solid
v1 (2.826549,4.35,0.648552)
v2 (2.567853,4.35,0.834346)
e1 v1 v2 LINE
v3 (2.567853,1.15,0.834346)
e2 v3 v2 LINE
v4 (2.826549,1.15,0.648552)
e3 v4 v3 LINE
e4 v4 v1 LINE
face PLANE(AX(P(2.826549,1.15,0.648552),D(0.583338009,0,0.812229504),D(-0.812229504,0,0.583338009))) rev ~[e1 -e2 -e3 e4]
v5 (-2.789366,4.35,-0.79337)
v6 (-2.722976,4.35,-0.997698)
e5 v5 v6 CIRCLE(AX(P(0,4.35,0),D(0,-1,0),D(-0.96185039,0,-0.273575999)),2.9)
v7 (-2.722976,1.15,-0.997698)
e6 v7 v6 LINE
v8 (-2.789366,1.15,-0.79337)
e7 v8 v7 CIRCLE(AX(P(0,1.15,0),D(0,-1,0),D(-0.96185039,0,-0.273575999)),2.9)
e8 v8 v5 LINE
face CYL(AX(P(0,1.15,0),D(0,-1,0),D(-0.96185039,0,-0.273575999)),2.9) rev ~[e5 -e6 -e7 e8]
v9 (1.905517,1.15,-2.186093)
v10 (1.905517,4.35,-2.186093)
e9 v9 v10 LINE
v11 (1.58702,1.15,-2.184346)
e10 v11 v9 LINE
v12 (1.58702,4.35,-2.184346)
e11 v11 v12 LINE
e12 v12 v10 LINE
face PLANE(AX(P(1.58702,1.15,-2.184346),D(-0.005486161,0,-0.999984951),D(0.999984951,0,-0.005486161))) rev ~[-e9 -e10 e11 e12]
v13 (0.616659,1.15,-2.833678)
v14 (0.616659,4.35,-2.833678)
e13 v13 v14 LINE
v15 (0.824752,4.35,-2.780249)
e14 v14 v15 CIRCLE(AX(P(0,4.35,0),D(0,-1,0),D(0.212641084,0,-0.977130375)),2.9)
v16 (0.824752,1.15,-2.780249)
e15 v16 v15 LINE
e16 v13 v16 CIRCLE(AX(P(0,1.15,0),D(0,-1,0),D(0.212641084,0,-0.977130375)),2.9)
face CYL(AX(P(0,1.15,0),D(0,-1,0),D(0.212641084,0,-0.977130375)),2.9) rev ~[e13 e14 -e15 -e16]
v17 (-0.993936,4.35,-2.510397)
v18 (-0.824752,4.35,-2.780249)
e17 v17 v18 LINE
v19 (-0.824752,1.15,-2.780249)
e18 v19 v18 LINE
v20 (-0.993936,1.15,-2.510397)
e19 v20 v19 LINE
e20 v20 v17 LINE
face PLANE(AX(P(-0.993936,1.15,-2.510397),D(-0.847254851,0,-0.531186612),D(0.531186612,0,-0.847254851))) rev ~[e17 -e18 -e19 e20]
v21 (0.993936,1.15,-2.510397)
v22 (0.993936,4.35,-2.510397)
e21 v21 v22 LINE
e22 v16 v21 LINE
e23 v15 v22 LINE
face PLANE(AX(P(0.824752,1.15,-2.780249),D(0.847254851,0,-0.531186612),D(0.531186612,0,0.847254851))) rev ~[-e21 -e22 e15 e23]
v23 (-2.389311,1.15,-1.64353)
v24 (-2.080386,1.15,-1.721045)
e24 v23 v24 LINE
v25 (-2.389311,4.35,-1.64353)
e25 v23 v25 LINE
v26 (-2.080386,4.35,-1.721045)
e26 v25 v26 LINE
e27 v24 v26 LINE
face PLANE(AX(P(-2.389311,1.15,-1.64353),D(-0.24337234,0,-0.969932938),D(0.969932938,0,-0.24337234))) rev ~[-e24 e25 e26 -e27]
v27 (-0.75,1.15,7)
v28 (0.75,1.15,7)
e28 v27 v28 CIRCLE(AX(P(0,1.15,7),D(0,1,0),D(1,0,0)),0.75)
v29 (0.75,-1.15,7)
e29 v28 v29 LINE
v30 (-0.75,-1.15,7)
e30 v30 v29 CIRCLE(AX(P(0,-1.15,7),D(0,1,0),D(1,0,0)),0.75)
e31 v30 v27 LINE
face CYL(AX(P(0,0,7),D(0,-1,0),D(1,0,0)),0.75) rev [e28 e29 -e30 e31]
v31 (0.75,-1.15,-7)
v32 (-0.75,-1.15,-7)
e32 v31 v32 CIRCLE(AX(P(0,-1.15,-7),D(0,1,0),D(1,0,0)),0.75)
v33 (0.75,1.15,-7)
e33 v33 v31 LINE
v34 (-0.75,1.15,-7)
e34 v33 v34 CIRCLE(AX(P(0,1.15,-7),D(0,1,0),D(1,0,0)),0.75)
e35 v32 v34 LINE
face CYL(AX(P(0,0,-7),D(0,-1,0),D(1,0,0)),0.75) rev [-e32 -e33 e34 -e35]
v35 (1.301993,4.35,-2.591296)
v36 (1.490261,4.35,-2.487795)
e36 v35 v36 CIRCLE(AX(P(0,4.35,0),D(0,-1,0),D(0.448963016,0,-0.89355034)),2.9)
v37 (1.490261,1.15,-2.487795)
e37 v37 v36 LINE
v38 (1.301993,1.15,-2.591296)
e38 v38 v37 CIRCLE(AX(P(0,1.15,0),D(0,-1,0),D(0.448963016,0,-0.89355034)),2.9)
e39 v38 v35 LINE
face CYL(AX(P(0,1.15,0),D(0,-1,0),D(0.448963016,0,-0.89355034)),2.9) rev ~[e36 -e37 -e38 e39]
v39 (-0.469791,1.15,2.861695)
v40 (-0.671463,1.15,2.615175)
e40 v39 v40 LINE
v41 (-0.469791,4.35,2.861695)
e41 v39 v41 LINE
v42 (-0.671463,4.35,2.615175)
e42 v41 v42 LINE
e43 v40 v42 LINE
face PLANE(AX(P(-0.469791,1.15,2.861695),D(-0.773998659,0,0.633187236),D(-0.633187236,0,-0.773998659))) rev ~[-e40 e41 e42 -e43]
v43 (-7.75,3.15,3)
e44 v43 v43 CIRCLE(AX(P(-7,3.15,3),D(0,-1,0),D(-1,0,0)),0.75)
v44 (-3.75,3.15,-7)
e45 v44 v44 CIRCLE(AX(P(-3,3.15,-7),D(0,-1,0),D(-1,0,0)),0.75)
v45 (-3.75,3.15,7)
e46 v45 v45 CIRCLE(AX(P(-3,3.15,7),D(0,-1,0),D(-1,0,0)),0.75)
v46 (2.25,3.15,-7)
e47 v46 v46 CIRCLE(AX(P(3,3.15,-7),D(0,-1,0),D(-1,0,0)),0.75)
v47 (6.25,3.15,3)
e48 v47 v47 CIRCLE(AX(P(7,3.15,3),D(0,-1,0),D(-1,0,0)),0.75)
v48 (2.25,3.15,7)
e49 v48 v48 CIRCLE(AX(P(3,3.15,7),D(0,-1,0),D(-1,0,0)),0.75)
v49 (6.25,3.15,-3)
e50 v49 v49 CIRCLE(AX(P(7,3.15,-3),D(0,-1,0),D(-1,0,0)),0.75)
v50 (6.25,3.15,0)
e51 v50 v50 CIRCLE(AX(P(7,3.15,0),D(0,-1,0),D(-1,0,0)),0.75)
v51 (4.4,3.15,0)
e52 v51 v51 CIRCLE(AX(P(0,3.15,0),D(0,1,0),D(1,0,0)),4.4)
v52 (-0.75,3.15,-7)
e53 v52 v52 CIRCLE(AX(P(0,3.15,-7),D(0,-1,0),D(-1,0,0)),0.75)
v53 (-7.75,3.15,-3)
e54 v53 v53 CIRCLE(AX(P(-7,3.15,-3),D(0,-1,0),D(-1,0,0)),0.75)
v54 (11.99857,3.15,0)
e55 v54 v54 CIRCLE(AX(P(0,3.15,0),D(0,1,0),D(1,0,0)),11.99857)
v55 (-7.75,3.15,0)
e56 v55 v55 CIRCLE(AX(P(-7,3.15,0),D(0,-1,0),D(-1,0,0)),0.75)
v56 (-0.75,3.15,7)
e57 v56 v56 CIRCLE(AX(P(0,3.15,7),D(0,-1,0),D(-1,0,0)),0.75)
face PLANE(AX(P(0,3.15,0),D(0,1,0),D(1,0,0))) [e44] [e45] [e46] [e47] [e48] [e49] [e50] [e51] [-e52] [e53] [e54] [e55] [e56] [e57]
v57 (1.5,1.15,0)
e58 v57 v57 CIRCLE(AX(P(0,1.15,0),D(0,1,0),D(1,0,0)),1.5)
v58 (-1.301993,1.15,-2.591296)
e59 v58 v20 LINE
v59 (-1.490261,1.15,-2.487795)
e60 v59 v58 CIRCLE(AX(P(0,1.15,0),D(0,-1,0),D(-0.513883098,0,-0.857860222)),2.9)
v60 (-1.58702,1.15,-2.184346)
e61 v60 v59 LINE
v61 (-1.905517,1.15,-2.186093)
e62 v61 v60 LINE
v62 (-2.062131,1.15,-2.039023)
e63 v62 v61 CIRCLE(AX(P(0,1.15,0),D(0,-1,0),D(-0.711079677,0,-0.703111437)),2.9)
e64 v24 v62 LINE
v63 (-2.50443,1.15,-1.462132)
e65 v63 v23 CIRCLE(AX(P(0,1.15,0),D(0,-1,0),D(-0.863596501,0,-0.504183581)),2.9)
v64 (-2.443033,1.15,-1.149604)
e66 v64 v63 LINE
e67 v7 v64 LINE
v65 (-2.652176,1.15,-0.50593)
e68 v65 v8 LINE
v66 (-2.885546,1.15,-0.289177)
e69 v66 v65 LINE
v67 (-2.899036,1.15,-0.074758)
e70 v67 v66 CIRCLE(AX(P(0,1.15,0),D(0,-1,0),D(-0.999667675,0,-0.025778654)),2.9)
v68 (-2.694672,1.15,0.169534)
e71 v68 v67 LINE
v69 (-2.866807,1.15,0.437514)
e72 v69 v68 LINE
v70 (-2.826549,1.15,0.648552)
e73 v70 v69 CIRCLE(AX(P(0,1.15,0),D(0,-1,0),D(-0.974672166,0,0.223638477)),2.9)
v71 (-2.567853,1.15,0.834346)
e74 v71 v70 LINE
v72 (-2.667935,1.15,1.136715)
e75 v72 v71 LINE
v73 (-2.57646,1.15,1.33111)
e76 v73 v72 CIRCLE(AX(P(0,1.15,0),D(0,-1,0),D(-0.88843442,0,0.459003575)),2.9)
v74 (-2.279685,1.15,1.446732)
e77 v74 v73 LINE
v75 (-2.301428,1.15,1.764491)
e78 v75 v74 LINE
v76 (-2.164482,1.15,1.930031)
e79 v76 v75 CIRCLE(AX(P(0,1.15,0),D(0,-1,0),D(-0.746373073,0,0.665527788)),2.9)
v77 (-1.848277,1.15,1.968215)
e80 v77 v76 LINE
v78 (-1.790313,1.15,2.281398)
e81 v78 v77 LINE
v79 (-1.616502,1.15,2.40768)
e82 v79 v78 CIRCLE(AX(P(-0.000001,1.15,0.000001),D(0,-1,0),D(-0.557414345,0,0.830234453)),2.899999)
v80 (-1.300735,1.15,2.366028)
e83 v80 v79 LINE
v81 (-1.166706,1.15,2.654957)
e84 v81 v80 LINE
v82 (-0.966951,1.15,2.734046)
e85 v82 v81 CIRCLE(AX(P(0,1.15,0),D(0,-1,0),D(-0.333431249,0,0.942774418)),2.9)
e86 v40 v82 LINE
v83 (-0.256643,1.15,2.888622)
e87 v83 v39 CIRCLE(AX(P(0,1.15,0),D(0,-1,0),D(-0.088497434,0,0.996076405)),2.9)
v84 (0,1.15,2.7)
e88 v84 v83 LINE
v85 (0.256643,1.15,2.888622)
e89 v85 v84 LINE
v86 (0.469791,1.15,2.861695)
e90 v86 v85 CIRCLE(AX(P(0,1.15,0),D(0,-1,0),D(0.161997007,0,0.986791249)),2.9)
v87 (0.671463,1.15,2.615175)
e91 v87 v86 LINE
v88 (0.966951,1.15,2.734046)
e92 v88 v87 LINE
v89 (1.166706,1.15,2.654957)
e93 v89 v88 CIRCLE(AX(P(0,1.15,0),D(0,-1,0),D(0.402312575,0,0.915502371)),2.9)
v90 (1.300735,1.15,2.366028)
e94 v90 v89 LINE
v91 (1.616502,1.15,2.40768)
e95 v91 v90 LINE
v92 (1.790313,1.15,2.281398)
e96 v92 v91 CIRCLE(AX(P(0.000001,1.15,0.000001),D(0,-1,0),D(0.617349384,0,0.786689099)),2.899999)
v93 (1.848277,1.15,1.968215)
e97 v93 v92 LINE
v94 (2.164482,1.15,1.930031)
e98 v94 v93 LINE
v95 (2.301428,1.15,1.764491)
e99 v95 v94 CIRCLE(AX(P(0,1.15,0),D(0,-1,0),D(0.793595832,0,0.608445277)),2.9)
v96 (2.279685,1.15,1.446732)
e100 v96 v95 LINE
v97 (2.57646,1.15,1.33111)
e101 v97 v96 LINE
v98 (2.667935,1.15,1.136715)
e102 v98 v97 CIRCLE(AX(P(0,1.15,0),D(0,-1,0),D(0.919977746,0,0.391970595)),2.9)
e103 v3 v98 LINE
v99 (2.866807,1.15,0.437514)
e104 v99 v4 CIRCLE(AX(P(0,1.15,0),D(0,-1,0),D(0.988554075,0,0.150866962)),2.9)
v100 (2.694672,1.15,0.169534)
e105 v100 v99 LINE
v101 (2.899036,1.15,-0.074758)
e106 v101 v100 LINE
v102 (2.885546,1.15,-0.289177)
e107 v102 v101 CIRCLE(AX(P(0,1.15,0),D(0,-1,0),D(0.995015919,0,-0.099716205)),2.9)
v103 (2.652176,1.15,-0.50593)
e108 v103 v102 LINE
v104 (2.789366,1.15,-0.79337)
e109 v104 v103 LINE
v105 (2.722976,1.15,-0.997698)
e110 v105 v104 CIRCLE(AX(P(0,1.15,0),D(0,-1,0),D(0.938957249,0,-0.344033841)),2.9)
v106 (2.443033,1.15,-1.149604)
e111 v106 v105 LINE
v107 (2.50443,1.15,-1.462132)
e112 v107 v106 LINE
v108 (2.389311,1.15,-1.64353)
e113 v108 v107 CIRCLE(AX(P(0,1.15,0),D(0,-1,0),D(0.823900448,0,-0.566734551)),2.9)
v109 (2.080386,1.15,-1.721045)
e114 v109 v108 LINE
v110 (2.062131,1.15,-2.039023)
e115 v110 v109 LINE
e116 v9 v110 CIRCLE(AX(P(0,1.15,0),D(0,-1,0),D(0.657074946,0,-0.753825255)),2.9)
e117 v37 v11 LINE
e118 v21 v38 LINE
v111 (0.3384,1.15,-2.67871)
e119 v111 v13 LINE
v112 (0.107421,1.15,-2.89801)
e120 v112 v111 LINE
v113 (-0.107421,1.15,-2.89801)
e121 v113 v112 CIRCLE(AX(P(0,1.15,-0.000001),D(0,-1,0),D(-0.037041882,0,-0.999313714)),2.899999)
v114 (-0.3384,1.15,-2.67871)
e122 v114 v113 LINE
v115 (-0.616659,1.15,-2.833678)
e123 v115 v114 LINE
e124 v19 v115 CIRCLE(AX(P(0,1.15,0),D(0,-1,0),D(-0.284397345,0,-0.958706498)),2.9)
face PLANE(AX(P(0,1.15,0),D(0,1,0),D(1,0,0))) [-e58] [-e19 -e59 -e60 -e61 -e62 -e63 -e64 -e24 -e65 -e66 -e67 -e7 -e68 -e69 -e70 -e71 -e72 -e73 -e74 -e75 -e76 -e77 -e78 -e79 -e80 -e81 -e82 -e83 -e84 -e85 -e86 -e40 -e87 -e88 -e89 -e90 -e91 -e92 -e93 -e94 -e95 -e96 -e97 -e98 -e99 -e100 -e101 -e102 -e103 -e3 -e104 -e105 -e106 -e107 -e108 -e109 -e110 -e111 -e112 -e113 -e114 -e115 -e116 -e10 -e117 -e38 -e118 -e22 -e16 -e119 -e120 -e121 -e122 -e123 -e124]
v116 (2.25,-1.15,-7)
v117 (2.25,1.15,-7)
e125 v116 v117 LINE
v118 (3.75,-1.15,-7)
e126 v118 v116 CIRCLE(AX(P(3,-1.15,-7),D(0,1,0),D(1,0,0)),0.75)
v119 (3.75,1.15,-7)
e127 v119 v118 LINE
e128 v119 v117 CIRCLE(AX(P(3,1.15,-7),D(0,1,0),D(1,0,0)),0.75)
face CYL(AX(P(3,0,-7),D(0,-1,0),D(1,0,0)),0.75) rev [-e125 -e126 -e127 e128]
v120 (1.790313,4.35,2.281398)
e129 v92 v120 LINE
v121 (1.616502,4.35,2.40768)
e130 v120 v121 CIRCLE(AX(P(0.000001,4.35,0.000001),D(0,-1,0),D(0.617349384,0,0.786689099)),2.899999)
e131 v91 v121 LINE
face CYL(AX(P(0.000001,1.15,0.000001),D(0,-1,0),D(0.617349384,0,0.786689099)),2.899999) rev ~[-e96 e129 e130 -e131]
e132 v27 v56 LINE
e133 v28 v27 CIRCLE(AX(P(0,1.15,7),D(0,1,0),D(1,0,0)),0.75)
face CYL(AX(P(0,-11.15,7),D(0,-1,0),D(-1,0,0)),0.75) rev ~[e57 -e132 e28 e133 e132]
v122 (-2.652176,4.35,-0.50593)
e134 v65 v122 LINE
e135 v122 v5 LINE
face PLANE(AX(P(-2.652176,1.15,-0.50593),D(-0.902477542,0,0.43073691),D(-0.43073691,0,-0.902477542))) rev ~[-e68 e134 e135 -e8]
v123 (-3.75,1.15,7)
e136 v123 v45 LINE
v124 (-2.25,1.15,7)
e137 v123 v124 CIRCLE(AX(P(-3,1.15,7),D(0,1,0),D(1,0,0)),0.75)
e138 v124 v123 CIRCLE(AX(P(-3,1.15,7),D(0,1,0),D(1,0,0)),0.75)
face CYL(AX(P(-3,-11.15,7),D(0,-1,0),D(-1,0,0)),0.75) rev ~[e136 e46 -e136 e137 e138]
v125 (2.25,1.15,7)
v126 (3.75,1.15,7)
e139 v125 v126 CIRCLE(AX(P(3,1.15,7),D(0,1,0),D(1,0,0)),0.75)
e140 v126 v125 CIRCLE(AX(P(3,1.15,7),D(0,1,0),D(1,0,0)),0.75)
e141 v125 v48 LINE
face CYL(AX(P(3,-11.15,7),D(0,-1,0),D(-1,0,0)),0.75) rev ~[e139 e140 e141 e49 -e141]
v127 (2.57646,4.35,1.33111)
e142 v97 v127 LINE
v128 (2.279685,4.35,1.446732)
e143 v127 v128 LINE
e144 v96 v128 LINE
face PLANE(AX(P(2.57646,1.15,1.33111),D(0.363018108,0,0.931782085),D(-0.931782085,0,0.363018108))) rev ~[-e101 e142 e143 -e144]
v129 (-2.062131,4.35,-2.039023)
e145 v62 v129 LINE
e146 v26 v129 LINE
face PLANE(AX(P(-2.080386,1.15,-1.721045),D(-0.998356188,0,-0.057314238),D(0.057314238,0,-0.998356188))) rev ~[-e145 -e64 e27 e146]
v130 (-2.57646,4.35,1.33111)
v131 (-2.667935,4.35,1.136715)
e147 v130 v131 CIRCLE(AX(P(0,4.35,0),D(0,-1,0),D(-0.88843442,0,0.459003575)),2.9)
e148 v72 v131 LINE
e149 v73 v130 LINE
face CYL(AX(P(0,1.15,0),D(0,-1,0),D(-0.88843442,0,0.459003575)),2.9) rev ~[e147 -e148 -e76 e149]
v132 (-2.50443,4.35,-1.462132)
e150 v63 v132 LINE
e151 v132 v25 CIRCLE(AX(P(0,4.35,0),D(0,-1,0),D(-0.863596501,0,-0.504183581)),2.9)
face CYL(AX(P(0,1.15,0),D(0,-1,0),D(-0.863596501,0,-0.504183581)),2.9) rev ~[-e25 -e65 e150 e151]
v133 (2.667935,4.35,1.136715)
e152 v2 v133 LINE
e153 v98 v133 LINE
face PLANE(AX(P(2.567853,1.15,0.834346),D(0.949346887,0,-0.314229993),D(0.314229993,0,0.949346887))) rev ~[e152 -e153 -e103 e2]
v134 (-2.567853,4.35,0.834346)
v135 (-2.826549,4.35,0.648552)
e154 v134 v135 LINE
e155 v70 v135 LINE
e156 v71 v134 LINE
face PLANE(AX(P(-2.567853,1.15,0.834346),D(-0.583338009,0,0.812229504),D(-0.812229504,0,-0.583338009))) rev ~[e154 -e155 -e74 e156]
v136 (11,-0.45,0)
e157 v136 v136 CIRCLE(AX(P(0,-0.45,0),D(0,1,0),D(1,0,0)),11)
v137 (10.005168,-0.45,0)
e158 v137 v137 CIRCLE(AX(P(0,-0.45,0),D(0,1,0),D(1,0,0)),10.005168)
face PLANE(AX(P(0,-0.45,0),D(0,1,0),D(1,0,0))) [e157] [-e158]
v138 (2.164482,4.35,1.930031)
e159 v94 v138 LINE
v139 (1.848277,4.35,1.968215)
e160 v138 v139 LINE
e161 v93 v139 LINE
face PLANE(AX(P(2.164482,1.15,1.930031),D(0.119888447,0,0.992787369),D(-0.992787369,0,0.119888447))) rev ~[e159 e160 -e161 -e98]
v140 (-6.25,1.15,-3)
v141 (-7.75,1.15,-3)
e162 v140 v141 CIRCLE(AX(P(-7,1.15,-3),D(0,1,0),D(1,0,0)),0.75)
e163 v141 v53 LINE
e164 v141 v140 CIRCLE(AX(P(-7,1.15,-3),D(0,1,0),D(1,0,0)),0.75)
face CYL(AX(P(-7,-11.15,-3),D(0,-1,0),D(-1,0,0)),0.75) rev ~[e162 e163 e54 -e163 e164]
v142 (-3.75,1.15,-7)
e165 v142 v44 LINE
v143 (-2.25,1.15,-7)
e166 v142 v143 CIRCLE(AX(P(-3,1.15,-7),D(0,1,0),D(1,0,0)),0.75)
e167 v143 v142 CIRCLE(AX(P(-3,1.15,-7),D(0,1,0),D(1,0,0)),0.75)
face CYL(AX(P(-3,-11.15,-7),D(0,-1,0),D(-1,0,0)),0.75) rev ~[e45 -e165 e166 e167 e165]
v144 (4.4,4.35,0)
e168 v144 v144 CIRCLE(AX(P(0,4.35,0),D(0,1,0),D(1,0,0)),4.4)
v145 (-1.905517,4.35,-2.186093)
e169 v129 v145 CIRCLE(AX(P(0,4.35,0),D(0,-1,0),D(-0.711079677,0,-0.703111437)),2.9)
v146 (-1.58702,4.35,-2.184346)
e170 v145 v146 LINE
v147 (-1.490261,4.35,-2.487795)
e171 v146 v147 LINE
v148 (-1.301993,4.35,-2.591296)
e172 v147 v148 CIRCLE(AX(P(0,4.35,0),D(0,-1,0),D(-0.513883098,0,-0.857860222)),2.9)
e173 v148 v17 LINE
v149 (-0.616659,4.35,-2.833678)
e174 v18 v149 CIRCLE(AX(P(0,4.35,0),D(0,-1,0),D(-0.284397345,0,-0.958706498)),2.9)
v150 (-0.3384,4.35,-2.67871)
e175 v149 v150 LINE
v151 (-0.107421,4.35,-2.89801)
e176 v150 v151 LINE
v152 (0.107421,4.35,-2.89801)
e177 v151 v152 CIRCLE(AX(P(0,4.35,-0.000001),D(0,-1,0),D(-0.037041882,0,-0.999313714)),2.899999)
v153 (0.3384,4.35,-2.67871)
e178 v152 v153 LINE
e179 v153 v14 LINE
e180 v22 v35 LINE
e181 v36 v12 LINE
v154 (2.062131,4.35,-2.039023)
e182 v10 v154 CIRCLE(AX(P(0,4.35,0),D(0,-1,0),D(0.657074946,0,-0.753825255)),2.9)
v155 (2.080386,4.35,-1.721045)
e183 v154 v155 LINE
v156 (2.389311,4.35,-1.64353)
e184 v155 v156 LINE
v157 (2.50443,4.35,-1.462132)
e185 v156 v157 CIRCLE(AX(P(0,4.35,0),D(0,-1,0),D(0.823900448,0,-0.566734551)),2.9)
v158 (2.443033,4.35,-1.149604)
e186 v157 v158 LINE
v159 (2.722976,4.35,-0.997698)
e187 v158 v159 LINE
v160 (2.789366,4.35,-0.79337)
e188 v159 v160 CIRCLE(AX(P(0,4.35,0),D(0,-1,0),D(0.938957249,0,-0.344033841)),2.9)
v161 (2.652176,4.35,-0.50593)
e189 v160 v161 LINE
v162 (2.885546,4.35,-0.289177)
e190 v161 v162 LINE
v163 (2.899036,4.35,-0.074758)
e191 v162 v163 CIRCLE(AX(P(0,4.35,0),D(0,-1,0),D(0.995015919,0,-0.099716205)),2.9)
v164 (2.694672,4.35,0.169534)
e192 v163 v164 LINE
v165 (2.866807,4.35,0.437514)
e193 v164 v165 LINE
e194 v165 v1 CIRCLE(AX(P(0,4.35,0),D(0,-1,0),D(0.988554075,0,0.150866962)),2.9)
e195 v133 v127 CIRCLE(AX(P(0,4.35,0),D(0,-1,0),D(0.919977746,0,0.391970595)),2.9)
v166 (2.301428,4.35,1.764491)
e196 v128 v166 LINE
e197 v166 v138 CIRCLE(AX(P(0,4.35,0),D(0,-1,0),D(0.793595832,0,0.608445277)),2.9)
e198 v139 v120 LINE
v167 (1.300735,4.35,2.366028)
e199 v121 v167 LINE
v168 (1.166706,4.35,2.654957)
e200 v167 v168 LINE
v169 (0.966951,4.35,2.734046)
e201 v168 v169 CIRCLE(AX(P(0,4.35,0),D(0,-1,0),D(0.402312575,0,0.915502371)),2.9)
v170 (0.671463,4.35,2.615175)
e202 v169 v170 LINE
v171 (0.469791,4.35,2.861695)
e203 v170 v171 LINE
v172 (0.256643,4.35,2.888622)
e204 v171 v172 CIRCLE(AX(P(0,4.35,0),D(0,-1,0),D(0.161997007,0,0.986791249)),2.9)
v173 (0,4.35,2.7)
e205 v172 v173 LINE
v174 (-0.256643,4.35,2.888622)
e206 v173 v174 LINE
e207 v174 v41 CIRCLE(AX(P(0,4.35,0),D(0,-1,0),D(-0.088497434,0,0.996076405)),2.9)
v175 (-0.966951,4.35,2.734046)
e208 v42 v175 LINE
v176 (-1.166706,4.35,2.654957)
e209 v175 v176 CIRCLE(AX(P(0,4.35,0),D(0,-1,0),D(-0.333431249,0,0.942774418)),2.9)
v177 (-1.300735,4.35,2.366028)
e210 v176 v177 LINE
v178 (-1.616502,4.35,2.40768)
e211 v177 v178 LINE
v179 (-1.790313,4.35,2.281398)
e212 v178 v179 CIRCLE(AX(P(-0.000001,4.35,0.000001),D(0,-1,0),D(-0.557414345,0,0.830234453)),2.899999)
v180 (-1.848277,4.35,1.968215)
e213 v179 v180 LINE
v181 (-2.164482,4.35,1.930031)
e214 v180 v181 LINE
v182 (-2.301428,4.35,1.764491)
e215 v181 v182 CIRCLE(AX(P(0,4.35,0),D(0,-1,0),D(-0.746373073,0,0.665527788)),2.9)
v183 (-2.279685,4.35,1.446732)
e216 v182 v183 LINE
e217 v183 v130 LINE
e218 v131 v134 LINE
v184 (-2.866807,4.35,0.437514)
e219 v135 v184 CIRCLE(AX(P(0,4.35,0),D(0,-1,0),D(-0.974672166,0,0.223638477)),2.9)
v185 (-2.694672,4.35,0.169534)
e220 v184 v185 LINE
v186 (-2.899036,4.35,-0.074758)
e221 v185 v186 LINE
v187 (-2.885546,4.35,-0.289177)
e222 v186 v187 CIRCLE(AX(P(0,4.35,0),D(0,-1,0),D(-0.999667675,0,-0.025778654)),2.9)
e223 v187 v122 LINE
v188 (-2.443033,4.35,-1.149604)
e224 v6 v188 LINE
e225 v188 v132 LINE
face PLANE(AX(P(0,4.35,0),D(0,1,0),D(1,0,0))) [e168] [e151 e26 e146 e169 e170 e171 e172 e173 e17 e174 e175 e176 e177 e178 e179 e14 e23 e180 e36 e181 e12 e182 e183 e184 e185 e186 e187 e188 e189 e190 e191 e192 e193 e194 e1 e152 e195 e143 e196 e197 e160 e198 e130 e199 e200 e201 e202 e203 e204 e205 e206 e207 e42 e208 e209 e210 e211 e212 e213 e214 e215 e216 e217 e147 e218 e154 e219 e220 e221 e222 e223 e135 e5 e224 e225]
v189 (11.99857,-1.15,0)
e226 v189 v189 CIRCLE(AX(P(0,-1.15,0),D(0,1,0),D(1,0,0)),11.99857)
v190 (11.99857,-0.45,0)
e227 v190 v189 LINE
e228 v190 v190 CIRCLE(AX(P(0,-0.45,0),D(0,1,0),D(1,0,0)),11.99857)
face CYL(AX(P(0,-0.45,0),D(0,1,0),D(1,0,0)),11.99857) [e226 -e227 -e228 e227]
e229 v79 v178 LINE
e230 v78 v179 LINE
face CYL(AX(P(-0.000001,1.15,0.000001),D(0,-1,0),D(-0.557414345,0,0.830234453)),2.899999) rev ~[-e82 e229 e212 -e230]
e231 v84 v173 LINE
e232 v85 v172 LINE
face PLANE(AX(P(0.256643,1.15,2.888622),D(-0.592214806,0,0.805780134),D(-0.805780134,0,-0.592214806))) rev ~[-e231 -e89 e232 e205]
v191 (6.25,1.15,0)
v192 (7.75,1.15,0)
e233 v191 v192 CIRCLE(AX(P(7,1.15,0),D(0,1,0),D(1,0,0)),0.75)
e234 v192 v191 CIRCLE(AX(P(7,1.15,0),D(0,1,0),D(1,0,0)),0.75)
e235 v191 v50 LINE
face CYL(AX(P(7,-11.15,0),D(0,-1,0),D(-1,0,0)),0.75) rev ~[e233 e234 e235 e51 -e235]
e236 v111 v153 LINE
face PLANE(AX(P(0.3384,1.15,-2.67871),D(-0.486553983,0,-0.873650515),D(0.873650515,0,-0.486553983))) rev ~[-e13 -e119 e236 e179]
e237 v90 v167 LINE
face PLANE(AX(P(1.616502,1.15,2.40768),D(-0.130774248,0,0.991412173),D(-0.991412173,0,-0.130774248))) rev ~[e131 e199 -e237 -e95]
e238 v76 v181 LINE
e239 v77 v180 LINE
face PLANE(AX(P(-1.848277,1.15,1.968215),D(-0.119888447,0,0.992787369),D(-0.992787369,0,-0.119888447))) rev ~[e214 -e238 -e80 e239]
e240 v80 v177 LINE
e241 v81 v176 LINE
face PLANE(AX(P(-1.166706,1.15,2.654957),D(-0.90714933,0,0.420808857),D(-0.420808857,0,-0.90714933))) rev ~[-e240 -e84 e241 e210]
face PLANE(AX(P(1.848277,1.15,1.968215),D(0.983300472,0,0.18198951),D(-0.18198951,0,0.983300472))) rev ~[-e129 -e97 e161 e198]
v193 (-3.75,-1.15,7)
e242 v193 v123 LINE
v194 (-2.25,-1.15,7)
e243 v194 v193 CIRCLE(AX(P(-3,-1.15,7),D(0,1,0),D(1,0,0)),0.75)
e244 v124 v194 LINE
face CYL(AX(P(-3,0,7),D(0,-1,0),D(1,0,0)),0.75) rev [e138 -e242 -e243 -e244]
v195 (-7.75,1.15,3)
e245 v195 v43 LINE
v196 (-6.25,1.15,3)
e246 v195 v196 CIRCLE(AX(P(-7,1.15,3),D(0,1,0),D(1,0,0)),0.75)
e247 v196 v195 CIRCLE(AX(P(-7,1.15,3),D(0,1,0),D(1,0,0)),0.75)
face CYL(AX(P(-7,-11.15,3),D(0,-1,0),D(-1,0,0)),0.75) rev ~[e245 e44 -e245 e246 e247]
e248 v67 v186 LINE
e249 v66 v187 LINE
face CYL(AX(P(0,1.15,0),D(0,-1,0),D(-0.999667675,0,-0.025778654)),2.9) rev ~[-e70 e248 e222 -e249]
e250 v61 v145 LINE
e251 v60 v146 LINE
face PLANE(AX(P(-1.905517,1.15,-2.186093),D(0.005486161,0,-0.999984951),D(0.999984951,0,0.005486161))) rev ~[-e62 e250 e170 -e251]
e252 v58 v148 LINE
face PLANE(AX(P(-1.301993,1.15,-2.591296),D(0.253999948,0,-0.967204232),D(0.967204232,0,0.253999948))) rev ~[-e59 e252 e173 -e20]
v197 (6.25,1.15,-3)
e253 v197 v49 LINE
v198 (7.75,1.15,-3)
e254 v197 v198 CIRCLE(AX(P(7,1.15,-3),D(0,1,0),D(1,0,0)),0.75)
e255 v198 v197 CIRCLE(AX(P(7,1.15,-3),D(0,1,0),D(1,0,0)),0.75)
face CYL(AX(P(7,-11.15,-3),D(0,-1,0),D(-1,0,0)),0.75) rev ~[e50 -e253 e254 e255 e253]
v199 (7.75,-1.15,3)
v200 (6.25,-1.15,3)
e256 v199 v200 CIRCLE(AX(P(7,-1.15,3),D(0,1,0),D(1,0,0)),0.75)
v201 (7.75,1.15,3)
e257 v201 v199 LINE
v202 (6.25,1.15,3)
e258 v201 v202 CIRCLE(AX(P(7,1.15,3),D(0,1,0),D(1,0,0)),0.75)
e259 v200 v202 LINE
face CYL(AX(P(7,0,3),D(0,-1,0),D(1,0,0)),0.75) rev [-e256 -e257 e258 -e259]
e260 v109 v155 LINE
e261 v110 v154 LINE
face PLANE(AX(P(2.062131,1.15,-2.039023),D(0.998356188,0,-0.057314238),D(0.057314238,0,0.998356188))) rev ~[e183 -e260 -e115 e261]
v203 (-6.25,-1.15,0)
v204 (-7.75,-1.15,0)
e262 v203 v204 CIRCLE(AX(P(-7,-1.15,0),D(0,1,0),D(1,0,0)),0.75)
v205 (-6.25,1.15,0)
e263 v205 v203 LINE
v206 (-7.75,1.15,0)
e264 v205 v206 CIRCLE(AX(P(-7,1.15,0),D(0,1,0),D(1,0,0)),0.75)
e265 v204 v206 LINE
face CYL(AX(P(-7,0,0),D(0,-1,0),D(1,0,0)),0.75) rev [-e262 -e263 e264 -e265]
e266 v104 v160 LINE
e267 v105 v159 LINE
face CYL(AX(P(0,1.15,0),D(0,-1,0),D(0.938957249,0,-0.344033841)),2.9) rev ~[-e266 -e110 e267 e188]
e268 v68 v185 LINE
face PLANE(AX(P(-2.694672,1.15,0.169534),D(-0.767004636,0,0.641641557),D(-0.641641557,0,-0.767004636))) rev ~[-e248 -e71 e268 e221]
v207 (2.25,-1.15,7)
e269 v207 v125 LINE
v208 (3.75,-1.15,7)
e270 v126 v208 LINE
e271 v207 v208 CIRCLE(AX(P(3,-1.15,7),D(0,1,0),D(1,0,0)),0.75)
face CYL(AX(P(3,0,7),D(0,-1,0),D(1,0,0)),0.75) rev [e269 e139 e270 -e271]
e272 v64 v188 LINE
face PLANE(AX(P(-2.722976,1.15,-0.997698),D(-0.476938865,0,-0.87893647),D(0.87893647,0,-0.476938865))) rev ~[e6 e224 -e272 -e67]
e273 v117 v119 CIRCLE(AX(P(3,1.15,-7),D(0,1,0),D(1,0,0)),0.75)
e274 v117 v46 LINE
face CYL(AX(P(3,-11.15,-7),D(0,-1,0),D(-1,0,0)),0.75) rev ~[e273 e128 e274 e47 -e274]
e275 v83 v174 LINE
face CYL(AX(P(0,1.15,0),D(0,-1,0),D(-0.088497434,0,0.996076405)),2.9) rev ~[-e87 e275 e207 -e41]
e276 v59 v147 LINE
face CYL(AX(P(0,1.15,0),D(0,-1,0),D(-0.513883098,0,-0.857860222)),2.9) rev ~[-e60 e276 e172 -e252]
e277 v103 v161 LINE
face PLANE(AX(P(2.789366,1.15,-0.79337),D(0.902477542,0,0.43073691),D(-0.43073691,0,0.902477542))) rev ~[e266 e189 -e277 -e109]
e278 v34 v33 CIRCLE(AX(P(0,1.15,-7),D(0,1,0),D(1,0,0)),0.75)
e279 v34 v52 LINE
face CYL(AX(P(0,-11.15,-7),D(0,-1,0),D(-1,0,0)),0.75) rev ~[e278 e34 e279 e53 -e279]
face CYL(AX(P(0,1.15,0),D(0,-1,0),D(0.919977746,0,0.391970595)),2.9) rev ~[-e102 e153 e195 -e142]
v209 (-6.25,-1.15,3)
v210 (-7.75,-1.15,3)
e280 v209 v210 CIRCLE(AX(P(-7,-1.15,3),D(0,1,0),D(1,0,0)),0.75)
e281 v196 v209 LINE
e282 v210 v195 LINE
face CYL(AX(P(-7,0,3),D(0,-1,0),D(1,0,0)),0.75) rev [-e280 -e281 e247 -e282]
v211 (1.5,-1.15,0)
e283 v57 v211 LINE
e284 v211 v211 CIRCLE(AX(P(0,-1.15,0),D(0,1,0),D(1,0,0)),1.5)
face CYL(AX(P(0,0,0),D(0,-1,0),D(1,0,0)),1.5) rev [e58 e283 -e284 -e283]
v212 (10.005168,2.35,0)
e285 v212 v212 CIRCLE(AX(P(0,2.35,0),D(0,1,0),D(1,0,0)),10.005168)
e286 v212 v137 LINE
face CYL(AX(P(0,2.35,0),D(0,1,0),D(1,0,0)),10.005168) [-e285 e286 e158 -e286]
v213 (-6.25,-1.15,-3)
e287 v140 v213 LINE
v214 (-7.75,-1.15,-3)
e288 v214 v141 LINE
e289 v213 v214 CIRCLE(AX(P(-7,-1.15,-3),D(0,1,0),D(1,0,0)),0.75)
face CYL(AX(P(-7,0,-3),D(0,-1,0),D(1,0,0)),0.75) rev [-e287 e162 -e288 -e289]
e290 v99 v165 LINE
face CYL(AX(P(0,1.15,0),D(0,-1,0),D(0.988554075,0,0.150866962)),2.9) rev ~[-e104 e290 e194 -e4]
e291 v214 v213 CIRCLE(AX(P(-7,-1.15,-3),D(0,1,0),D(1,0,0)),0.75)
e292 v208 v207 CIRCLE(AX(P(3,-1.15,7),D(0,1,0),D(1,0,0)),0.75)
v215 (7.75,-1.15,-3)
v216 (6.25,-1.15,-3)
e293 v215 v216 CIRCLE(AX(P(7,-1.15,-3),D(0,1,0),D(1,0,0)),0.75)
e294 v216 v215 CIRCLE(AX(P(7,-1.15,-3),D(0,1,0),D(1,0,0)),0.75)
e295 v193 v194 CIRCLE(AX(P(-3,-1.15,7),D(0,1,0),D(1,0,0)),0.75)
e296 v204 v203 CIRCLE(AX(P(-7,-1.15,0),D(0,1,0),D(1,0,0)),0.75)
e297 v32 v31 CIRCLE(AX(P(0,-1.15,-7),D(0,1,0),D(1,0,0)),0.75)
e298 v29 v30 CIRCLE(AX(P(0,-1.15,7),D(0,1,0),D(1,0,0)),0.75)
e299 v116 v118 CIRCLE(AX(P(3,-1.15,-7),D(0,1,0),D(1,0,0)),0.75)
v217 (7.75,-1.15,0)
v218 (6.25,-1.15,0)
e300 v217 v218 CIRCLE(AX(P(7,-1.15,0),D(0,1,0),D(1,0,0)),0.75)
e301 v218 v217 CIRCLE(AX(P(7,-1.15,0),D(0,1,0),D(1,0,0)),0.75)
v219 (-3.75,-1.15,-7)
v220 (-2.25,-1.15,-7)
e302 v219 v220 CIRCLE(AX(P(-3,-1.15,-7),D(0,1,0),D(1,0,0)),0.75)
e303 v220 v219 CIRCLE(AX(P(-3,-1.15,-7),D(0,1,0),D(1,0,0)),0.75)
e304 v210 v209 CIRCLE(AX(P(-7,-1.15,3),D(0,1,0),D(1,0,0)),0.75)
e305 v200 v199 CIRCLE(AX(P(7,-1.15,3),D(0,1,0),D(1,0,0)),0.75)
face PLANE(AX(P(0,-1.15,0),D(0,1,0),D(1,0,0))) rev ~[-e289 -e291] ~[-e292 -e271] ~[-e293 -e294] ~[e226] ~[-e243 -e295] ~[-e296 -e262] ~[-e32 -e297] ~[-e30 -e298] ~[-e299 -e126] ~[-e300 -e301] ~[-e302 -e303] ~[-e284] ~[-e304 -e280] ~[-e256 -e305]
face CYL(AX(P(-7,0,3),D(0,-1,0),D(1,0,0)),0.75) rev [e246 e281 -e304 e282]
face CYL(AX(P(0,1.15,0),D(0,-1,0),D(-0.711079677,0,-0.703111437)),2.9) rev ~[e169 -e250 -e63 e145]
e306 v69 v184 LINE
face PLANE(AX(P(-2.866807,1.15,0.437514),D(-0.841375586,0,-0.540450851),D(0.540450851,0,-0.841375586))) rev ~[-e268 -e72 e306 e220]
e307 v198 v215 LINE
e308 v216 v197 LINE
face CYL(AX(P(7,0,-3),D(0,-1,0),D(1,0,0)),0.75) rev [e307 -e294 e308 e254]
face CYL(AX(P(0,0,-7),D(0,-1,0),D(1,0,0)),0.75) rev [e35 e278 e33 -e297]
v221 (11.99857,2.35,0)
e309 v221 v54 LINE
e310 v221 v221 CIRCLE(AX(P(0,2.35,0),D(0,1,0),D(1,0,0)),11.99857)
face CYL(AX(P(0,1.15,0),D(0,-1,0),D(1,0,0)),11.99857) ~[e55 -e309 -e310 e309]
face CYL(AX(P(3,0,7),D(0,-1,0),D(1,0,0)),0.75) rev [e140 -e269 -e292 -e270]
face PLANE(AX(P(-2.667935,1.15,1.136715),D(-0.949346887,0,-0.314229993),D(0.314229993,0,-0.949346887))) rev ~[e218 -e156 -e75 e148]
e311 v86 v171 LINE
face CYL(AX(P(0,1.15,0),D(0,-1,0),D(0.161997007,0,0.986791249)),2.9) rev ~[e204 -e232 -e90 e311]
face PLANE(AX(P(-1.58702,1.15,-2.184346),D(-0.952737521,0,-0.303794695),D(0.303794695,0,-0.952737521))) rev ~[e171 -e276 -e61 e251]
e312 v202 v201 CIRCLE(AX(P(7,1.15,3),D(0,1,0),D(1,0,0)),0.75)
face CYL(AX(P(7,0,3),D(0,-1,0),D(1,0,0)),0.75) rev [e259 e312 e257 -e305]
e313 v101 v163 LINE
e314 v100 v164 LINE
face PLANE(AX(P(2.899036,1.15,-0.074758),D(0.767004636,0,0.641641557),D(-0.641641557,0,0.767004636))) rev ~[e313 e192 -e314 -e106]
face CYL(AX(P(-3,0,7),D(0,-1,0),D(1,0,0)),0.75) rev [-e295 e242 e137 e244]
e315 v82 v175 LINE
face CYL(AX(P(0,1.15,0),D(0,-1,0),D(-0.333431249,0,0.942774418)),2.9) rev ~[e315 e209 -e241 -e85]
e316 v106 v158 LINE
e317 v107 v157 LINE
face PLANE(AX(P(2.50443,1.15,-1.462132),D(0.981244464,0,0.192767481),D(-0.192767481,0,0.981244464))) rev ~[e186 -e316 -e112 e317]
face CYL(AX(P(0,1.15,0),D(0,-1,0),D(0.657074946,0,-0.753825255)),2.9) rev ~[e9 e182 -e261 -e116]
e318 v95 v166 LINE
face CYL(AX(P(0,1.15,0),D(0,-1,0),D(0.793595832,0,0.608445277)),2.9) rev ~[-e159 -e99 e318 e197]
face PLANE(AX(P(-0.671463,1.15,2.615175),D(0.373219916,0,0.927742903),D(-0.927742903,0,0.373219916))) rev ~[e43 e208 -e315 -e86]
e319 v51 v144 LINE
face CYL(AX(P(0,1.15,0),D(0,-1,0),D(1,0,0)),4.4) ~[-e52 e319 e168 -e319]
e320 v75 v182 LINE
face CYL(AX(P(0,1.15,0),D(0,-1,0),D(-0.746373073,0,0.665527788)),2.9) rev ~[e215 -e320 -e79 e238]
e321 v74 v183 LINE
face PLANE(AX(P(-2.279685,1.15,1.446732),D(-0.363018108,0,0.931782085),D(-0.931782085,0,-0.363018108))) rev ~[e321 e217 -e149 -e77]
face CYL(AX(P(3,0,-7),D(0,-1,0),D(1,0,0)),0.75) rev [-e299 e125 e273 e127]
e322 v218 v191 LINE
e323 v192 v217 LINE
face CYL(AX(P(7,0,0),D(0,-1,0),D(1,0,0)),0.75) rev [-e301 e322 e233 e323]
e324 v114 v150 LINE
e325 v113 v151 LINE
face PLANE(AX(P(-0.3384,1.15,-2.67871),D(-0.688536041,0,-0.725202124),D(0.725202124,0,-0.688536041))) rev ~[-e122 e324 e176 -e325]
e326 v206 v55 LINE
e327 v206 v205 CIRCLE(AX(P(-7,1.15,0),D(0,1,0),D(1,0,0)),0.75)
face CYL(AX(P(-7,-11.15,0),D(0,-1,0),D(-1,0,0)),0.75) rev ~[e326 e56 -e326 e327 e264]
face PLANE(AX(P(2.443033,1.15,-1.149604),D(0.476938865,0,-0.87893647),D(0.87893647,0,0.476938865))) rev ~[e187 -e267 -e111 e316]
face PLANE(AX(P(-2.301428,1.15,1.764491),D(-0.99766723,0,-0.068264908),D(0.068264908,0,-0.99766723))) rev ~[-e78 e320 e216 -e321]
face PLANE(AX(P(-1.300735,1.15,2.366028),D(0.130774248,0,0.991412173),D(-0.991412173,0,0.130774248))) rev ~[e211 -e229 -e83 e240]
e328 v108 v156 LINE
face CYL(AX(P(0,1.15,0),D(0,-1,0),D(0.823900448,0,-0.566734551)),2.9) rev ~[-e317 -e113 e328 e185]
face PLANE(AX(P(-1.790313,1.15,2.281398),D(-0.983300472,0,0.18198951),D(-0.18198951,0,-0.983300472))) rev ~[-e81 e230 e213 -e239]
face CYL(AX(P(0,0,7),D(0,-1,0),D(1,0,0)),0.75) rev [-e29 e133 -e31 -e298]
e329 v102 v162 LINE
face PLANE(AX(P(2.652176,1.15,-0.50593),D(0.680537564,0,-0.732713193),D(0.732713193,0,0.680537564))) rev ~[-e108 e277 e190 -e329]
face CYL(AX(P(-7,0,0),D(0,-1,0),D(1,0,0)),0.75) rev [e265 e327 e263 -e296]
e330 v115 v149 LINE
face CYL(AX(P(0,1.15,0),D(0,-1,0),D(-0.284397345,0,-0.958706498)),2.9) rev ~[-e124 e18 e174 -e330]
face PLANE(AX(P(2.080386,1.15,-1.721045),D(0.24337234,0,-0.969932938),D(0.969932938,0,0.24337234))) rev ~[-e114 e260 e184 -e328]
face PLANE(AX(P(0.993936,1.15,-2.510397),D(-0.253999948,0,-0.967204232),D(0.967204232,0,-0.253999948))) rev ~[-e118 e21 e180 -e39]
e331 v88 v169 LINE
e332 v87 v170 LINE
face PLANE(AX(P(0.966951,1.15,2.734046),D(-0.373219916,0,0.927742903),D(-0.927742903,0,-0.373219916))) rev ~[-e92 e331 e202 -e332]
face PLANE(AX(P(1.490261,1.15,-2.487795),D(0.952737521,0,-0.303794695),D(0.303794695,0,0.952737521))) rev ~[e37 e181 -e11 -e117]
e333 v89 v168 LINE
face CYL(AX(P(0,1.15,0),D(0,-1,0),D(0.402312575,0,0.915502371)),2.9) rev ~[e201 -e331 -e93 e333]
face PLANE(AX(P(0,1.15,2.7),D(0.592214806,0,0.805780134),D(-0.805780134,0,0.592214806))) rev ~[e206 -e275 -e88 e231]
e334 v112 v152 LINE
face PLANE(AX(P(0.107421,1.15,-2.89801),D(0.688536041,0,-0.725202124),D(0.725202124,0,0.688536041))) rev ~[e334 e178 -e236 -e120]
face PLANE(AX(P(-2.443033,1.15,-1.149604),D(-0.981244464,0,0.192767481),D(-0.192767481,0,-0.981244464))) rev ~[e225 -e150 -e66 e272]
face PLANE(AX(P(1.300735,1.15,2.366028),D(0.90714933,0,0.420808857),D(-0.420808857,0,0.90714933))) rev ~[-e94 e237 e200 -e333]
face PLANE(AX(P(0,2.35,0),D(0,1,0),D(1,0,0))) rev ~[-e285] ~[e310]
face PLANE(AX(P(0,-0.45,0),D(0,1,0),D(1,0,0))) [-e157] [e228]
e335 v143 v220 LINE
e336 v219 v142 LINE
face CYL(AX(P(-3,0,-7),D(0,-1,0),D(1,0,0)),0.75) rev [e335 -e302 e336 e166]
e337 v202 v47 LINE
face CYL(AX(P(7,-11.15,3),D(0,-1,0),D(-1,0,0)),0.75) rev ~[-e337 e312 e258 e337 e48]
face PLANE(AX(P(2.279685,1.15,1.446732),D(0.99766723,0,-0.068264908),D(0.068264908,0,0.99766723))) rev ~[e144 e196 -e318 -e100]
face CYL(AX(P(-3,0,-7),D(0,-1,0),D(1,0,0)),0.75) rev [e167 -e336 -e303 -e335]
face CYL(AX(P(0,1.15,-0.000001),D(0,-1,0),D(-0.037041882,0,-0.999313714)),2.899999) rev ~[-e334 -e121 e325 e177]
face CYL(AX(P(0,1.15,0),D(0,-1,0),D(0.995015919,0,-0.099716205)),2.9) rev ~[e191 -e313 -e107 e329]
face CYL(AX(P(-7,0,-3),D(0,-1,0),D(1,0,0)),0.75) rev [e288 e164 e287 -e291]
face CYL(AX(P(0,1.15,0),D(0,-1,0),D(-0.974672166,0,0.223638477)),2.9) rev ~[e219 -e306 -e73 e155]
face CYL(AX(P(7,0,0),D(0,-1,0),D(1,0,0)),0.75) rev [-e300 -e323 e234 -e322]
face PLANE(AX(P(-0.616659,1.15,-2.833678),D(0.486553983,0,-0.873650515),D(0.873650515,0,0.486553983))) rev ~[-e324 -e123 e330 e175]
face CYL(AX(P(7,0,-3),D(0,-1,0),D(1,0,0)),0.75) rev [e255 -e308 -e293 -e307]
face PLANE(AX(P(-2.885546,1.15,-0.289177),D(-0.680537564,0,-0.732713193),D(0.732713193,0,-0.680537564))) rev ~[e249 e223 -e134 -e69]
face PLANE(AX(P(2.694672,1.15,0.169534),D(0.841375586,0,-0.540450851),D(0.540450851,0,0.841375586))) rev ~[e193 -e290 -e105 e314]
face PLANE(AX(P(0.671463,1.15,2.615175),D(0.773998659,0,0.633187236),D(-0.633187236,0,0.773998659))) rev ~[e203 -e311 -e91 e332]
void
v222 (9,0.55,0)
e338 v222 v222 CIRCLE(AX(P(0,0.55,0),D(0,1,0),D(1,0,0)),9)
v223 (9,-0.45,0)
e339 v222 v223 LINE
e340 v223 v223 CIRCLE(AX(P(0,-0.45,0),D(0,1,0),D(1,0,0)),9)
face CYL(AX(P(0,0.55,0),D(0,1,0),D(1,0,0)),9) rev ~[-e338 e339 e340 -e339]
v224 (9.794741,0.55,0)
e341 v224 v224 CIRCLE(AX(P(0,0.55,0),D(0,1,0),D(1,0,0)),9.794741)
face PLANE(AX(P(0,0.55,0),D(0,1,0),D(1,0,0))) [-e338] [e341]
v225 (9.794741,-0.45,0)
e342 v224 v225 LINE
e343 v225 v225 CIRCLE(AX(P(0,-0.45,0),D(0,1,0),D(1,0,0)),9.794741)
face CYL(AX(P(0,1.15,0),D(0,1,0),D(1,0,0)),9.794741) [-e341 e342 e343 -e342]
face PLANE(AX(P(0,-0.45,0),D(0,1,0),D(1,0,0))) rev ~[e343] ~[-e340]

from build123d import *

# Parameters (mm, degrees)
SKETCH2_R               = 6
SKETCH2_R_2             = 1.5
BOSS_EXTRUDE1_DEPTH     = 1.15
SKETCH3_R               = 4.4
BOSS_EXTRUDE2_DEPTH     = 3.2
SKETCH5_R               = 10
SKETCH5_R_2             = 0.75
SKETCH5_R_3             = 1.5
BOSS_EXTRUDE4_DEPTH     = 1.15
ENL_V_START             = -0.6
ESQUISSE4_R             = 10
ESQUISSE4_R_2           = 9
ENL_V_MAT_EXTRU_1_DEPTH = 1
ESQUISSE5_R             = 11.998569968
ESQUISSE5_R_2           = 10
BOSS_EXTRU_1_DEPTH      = 0.55
BOSS_EXTRU_2_START      = -1.6
ESQUISSE5_3_R           = 11.998569968
ESQUISSE5_3_R_2         = 10
BOSS_EXTRU_2_DEPTH      = 0.7
ESQUISSE5_4_R           = 11.998569968
ESQUISSE5_4_R_2         = 10
BOSS_EXTRU_3_DEPTH      = 0.6
ESQUISSE6_R             = 11
ESQUISSE6_R_2           = 9.794741115
BOSS_EXTRU_4_DEPTH      = 1.6
BOSS_EXTRU_5_START      = 2
ESQUISSE7_R             = 11.998569968
ESQUISSE7_R_2           = 4.4
BOSS_EXTRU_5_DEPTH      = 2
ENL_V_START_2           = 1.2
ESQUISSE8_R             = 11.998569968
ESQUISSE8_R_2           = 11
ENL_V_MAT_EXTRU_2_DEPTH = 2.2
ENL_V_START_3           = 10
ESQUISSE9_R             = 0.75
ENL_V_MAT_EXTRU_3_DEPTH = 32.2
ESQUISSE10_R            = 11.998569968
ESQUISSE10_R_2          = 10.005168165
ENL_V_MAT_EXTRU_4_DEPTH = 2.8


with BuildPart() as part:
    # Sketch2 → Boss-Extrude1 (new, symmetric)
    with BuildSketch(Plane(origin=(0, 0, 0), x_dir=(1, 0, 0), z_dir=(0, 1, 0))):
        Circle(SKETCH2_R)
        Circle(SKETCH2_R_2, mode=Mode.SUBTRACT)
    extrude(amount=BOSS_EXTRUDE1_DEPTH, both=True)

    # Sketch3 → Boss-Extrude2 (add)
    with BuildSketch(Plane(origin=(0, 1.15, 0), x_dir=(1, 0, 0), z_dir=(0, 1, 0))):
        Circle(SKETCH3_R)
        with BuildLine():
            Line((0.107421435, 2.898009771), (0.338399731, 2.678709694))
            Line((0.338399731, 2.678709694), (0.61665913, 2.83367809))
            ThreePointArc((0.61665913, 2.83367809), (0.721200673, 2.808891167), (0.824752316, 2.780248841))
            Line((0.824752316, 2.780248841), (0.993936292, 2.510396512))
            Line((0.993936292, 2.510396512), (1.301992734, 2.591295993))
            ThreePointArc((1.301992734, 2.591295993), (1.397085655, 2.541289372), (1.490260976, 2.48779465))
            Line((1.490260976, 2.48779465), (1.587020181, 2.184345885))
            Line((1.587020181, 2.184345885), (1.905517346, 2.186093238))
            ThreePointArc((1.905517346, 2.186093238), (1.985186607, 2.11400902), (2.062131058, 2.039023173))
            Line((2.062131058, 2.039023173), (2.080385755, 1.721044772))
            Line((2.080385755, 1.721044772), (2.389311295, 1.643530205))
            ThreePointArc((2.389311295, 1.643530205), (2.448550984, 1.553897705), (2.504429862, 1.46213237))
            Line((2.504429862, 1.46213237), (2.443033042, 1.149604087))
            Line((2.443033042, 1.149604087), (2.722976028, 0.997698125))
            ThreePointArc((2.722976028, 0.997698125), (2.758063897, 0.896149284), (2.789366126, 0.793370413))
            Line((2.789366126, 0.793370413), (2.652175577, 0.505929549))
            Line((2.652175577, 0.505929549), (2.885546163, 0.289177003))
            ThreePointArc((2.885546163, 0.289177003), (2.894277512, 0.182092507), (2.899036259, 0.074758075))
            Line((2.899036259, 0.074758075), (2.694672167, -0.169534403))
            Line((2.694672167, -0.169534403), (2.866806821, -0.437514174))
            ThreePointArc((2.866806821, -0.437514174), (2.848633027, -0.543405812), (2.826549281, -0.648551587))
            Line((2.826549281, -0.648551587), (2.567852594, -0.834345885))
            Line((2.567852594, -0.834345885), (2.667935462, -1.136714727))
            ThreePointArc((2.667935462, -1.136714727), (2.623998452, -1.234759946), (2.576459817, -1.331110368))
            Line((2.576459817, -1.331110368), (2.279685399, -1.446732346))
            Line((2.279685399, -1.446732346), (2.301427906, -1.764491312))
            ThreePointArc((2.301427906, -1.764491312), (2.234488404, -1.84852957), (2.164481907, -1.930030589))
            Line((2.164481907, -1.930030589), (1.848277186, -1.968215294))
            Line((1.848277186, -1.968215294), (1.790313171, -2.281398419))
            ThreePointArc((1.790313171, -2.281398419), (1.704577232, -2.346149284), (1.616501638, -2.40767989))
            Line((1.616501638, -2.40767989), (1.30073492, -2.366028036))
            Line((1.30073492, -2.366028036), (1.166706475, -2.654956874))
            ThreePointArc((1.166706475, -2.654956874), (1.067561203, -2.696351809), (0.966950626, -2.734045809))
            Line((0.966950626, -2.734045809), (0.671462695, -2.615174535))
            Line((0.671462695, -2.615174535), (0.469791321, -2.861694623))
            ThreePointArc((0.469791321, -2.861694623), (0.363466377, -2.877132634), (0.25664255, -2.888621575))
            Line((0.25664255, -2.888621575), (0, -2.7))
            Line((0, -2.7), (-0.25664255, -2.888621575))
            ThreePointArc((-0.25664255, -2.888621575), (-0.363466377, -2.877132634), (-0.469791321, -2.861694623))
            Line((-0.469791321, -2.861694623), (-0.671462695, -2.615174535))
            Line((-0.671462695, -2.615174535), (-0.966950626, -2.734045809))
            ThreePointArc((-0.966950626, -2.734045809), (-1.067561203, -2.696351809), (-1.166706475, -2.654956874))
            Line((-1.166706475, -2.654956874), (-1.30073492, -2.366028036))
            Line((-1.30073492, -2.366028036), (-1.616501638, -2.40767989))
            ThreePointArc((-1.616501638, -2.40767989), (-1.704577232, -2.346149284), (-1.790313171, -2.281398419))
            Line((-1.790313171, -2.281398419), (-1.848277186, -1.968215294))
            Line((-1.848277186, -1.968215294), (-2.164481907, -1.930030589))
            ThreePointArc((-2.164481907, -1.930030589), (-2.234488404, -1.84852957), (-2.301427906, -1.764491312))
            Line((-2.301427906, -1.764491312), (-2.279685399, -1.446732346))
            Line((-2.279685399, -1.446732346), (-2.576459817, -1.331110368))
            ThreePointArc((-2.576459817, -1.331110368), (-2.623998452, -1.234759946), (-2.667935462, -1.136714727))
            Line((-2.667935462, -1.136714727), (-2.567852594, -0.834345885))
            Line((-2.567852594, -0.834345885), (-2.826549281, -0.648551587))
            ThreePointArc((-2.826549281, -0.648551587), (-2.848633027, -0.543405812), (-2.866806821, -0.437514174))
            Line((-2.866806821, -0.437514174), (-2.694672167, -0.169534403))
            Line((-2.694672167, -0.169534403), (-2.899036259, 0.074758075))
            ThreePointArc((-2.899036259, 0.074758075), (-2.894277512, 0.182092507), (-2.885546163, 0.289177003))
            Line((-2.885546163, 0.289177003), (-2.652175577, 0.505929549))
            Line((-2.652175577, 0.505929549), (-2.789366126, 0.793370413))
            ThreePointArc((-2.789366126, 0.793370413), (-2.758063897, 0.896149284), (-2.722976028, 0.997698125))
            Line((-2.722976028, 0.997698125), (-2.443033042, 1.149604087))
            Line((-2.443033042, 1.149604087), (-2.504429862, 1.46213237))
            ThreePointArc((-2.504429862, 1.46213237), (-2.448550984, 1.553897705), (-2.389311295, 1.643530205))
            Line((-2.389311295, 1.643530205), (-2.080385755, 1.721044772))
            Line((-2.080385755, 1.721044772), (-2.062131058, 2.039023173))
            ThreePointArc((-2.062131058, 2.039023173), (-1.985186607, 2.11400902), (-1.905517346, 2.186093238))
            Line((-1.905517346, 2.186093238), (-1.587020181, 2.184345885))
            Line((-1.587020181, 2.184345885), (-1.490260976, 2.48779465))
            ThreePointArc((-1.490260976, 2.48779465), (-1.397085655, 2.541289372), (-1.301992734, 2.591295993))
            Line((-1.301992734, 2.591295993), (-0.993936292, 2.510396512))
            Line((-0.993936292, 2.510396512), (-0.824752316, 2.780248841))
            ThreePointArc((-0.824752316, 2.780248841), (-0.721200673, 2.808891167), (-0.61665913, 2.83367809))
            Line((-0.61665913, 2.83367809), (-0.338399731, 2.678709694))
            Line((-0.338399731, 2.678709694), (-0.107421435, 2.898009771))
            ThreePointArc((-0.107421435, 2.898009771), (0, 2.9), (0.107421435, 2.898009771))
        make_face(mode=Mode.SUBTRACT)
    extrude(amount=BOSS_EXTRUDE2_DEPTH)

    # Sketch5 → Boss-Extrude4 (add, symmetric)
    with BuildSketch(Plane(origin=(0, 0, 0), x_dir=(1, 0, 0), z_dir=(0, 1, 0))):
        Circle(SKETCH5_R)
        with Locations((0, 7)):
            Circle(SKETCH5_R_2, mode=Mode.SUBTRACT)
        with Locations((-3, 7)):
            Circle(SKETCH5_R_2, mode=Mode.SUBTRACT)
        with Locations((3, 7)):
            Circle(SKETCH5_R_2, mode=Mode.SUBTRACT)
        with Locations((7, 3)):
            Circle(SKETCH5_R_2, mode=Mode.SUBTRACT)
        with Locations((7, 0)):
            Circle(SKETCH5_R_2, mode=Mode.SUBTRACT)
        with Locations((7, -3)):
            Circle(SKETCH5_R_2, mode=Mode.SUBTRACT)
        with Locations((3, -7)):
            Circle(SKETCH5_R_2, mode=Mode.SUBTRACT)
        with Locations((0, -7)):
            Circle(SKETCH5_R_2, mode=Mode.SUBTRACT)
        with Locations((-3, -7)):
            Circle(SKETCH5_R_2, mode=Mode.SUBTRACT)
        with Locations((-7, -3)):
            Circle(SKETCH5_R_2, mode=Mode.SUBTRACT)
        with Locations((-7, 0)):
            Circle(SKETCH5_R_2, mode=Mode.SUBTRACT)
        with Locations((-7, 3)):
            Circle(SKETCH5_R_2, mode=Mode.SUBTRACT)
        Circle(SKETCH5_R_3, mode=Mode.SUBTRACT)
    extrude(amount=BOSS_EXTRUDE4_DEPTH, both=True)

    # Esquisse4 → Enlèv. mat.-Extru.1 (cut)
    with BuildSketch(Plane(origin=(0, 1.15, 0), x_dir=(1, 0, 0), z_dir=(0, 1, 0)).offset(ENL_V_START)):
        Circle(ESQUISSE4_R)
        Circle(ESQUISSE4_R_2, mode=Mode.SUBTRACT)
    extrude(amount=-ENL_V_MAT_EXTRU_1_DEPTH, mode=Mode.SUBTRACT)

    # Esquisse5 → Boss.-Extru.1 (add)
    with BuildSketch(Plane(origin=(0, 1.15, 0), x_dir=(1, 0, 0), z_dir=(0, 1, 0))):
        Circle(ESQUISSE5_R)
        Circle(ESQUISSE5_R_2, mode=Mode.SUBTRACT)
    extrude(amount=-BOSS_EXTRU_1_DEPTH)

    # Esquisse5<3> → Boss.-Extru.2 (add)
    with BuildSketch(Plane(origin=(0, 1.15, 0), x_dir=(1, 0, 0), z_dir=(0, 1, 0)).offset(BOSS_EXTRU_2_START)):
        Circle(ESQUISSE5_3_R)
        Circle(ESQUISSE5_3_R_2, mode=Mode.SUBTRACT)
    extrude(amount=-BOSS_EXTRU_2_DEPTH)

    # Esquisse5<4> → Boss.-Extru.3 (add)
    with BuildSketch(Plane(origin=(0, 1.15, 0), x_dir=(1, 0, 0), z_dir=(0, 1, 0))):
        Circle(ESQUISSE5_4_R)
        Circle(ESQUISSE5_4_R_2, mode=Mode.SUBTRACT)
    extrude(amount=-BOSS_EXTRU_3_DEPTH)

    # Esquisse6 → Boss.-Extru.4 (add)
    with BuildSketch(Plane(origin=(0, 1.15, 0), x_dir=(1, 0, 0), z_dir=(0, 1, 0))):
        Circle(ESQUISSE6_R)
        Circle(ESQUISSE6_R_2, mode=Mode.SUBTRACT)
    extrude(amount=-BOSS_EXTRU_4_DEPTH)

    # Esquisse7 → Boss.-Extru.5 (add)
    with BuildSketch(Plane(origin=(0, 1.15, 0), x_dir=(1, 0, 0), z_dir=(0, 1, 0)).offset(BOSS_EXTRU_5_START)):
        Circle(ESQUISSE7_R)
        Circle(ESQUISSE7_R_2, mode=Mode.SUBTRACT)
    extrude(amount=-BOSS_EXTRU_5_DEPTH)

    # Esquisse8 → Enlèv. mat.-Extru.2 (cut)
    with BuildSketch(Plane(origin=(0, 1.15, 0), x_dir=(1, 0, 0), z_dir=(0, 1, 0)).offset(ENL_V_START_2)):
        Circle(ESQUISSE8_R)
        Circle(ESQUISSE8_R_2, mode=Mode.SUBTRACT)
    extrude(amount=-ENL_V_MAT_EXTRU_2_DEPTH, mode=Mode.SUBTRACT)

    # Esquisse9 → Enlèv. mat.-Extru.3 (cut)
    with BuildSketch(Plane(origin=(0, -1.15, 0), x_dir=(-1, 0, 0), z_dir=(0, -1, 0)).offset(ENL_V_START_3)):
        with Locations((3, 7)):
            Circle(ESQUISSE9_R)
        with Locations((7, 3)):
            Circle(ESQUISSE9_R)
        with Locations((7, 0)):
            Circle(ESQUISSE9_R)
        with Locations((7, -3)):
            Circle(ESQUISSE9_R)
        with Locations((3, -7)):
            Circle(ESQUISSE9_R)
        with Locations((0, -7)):
            Circle(ESQUISSE9_R)
        with Locations((-3, -7)):
            Circle(ESQUISSE9_R)
        with Locations((-7, -3)):
            Circle(ESQUISSE9_R)
        with Locations((-7, 0)):
            Circle(ESQUISSE9_R)
        with Locations((-7, 3)):
            Circle(ESQUISSE9_R)
        with Locations((-3, 7)):
            Circle(ESQUISSE9_R)
        with Locations((0, 7)):
            Circle(ESQUISSE9_R)
    extrude(amount=-ENL_V_MAT_EXTRU_3_DEPTH, mode=Mode.SUBTRACT)

    # Esquisse10 → Enlèv. mat.-Extru.4 (cut)
    with BuildSketch(Plane(origin=(0, 1.15, 0), x_dir=(1, 0, 0), z_dir=(0, 1, 0)).offset(ENL_V_START_2)):
        Circle(ESQUISSE10_R)
        Circle(ESQUISSE10_R_2, mode=Mode.SUBTRACT)
    extrude(amount=-ENL_V_MAT_EXTRU_4_DEPTH, mode=Mode.SUBTRACT)


solid = part.part
